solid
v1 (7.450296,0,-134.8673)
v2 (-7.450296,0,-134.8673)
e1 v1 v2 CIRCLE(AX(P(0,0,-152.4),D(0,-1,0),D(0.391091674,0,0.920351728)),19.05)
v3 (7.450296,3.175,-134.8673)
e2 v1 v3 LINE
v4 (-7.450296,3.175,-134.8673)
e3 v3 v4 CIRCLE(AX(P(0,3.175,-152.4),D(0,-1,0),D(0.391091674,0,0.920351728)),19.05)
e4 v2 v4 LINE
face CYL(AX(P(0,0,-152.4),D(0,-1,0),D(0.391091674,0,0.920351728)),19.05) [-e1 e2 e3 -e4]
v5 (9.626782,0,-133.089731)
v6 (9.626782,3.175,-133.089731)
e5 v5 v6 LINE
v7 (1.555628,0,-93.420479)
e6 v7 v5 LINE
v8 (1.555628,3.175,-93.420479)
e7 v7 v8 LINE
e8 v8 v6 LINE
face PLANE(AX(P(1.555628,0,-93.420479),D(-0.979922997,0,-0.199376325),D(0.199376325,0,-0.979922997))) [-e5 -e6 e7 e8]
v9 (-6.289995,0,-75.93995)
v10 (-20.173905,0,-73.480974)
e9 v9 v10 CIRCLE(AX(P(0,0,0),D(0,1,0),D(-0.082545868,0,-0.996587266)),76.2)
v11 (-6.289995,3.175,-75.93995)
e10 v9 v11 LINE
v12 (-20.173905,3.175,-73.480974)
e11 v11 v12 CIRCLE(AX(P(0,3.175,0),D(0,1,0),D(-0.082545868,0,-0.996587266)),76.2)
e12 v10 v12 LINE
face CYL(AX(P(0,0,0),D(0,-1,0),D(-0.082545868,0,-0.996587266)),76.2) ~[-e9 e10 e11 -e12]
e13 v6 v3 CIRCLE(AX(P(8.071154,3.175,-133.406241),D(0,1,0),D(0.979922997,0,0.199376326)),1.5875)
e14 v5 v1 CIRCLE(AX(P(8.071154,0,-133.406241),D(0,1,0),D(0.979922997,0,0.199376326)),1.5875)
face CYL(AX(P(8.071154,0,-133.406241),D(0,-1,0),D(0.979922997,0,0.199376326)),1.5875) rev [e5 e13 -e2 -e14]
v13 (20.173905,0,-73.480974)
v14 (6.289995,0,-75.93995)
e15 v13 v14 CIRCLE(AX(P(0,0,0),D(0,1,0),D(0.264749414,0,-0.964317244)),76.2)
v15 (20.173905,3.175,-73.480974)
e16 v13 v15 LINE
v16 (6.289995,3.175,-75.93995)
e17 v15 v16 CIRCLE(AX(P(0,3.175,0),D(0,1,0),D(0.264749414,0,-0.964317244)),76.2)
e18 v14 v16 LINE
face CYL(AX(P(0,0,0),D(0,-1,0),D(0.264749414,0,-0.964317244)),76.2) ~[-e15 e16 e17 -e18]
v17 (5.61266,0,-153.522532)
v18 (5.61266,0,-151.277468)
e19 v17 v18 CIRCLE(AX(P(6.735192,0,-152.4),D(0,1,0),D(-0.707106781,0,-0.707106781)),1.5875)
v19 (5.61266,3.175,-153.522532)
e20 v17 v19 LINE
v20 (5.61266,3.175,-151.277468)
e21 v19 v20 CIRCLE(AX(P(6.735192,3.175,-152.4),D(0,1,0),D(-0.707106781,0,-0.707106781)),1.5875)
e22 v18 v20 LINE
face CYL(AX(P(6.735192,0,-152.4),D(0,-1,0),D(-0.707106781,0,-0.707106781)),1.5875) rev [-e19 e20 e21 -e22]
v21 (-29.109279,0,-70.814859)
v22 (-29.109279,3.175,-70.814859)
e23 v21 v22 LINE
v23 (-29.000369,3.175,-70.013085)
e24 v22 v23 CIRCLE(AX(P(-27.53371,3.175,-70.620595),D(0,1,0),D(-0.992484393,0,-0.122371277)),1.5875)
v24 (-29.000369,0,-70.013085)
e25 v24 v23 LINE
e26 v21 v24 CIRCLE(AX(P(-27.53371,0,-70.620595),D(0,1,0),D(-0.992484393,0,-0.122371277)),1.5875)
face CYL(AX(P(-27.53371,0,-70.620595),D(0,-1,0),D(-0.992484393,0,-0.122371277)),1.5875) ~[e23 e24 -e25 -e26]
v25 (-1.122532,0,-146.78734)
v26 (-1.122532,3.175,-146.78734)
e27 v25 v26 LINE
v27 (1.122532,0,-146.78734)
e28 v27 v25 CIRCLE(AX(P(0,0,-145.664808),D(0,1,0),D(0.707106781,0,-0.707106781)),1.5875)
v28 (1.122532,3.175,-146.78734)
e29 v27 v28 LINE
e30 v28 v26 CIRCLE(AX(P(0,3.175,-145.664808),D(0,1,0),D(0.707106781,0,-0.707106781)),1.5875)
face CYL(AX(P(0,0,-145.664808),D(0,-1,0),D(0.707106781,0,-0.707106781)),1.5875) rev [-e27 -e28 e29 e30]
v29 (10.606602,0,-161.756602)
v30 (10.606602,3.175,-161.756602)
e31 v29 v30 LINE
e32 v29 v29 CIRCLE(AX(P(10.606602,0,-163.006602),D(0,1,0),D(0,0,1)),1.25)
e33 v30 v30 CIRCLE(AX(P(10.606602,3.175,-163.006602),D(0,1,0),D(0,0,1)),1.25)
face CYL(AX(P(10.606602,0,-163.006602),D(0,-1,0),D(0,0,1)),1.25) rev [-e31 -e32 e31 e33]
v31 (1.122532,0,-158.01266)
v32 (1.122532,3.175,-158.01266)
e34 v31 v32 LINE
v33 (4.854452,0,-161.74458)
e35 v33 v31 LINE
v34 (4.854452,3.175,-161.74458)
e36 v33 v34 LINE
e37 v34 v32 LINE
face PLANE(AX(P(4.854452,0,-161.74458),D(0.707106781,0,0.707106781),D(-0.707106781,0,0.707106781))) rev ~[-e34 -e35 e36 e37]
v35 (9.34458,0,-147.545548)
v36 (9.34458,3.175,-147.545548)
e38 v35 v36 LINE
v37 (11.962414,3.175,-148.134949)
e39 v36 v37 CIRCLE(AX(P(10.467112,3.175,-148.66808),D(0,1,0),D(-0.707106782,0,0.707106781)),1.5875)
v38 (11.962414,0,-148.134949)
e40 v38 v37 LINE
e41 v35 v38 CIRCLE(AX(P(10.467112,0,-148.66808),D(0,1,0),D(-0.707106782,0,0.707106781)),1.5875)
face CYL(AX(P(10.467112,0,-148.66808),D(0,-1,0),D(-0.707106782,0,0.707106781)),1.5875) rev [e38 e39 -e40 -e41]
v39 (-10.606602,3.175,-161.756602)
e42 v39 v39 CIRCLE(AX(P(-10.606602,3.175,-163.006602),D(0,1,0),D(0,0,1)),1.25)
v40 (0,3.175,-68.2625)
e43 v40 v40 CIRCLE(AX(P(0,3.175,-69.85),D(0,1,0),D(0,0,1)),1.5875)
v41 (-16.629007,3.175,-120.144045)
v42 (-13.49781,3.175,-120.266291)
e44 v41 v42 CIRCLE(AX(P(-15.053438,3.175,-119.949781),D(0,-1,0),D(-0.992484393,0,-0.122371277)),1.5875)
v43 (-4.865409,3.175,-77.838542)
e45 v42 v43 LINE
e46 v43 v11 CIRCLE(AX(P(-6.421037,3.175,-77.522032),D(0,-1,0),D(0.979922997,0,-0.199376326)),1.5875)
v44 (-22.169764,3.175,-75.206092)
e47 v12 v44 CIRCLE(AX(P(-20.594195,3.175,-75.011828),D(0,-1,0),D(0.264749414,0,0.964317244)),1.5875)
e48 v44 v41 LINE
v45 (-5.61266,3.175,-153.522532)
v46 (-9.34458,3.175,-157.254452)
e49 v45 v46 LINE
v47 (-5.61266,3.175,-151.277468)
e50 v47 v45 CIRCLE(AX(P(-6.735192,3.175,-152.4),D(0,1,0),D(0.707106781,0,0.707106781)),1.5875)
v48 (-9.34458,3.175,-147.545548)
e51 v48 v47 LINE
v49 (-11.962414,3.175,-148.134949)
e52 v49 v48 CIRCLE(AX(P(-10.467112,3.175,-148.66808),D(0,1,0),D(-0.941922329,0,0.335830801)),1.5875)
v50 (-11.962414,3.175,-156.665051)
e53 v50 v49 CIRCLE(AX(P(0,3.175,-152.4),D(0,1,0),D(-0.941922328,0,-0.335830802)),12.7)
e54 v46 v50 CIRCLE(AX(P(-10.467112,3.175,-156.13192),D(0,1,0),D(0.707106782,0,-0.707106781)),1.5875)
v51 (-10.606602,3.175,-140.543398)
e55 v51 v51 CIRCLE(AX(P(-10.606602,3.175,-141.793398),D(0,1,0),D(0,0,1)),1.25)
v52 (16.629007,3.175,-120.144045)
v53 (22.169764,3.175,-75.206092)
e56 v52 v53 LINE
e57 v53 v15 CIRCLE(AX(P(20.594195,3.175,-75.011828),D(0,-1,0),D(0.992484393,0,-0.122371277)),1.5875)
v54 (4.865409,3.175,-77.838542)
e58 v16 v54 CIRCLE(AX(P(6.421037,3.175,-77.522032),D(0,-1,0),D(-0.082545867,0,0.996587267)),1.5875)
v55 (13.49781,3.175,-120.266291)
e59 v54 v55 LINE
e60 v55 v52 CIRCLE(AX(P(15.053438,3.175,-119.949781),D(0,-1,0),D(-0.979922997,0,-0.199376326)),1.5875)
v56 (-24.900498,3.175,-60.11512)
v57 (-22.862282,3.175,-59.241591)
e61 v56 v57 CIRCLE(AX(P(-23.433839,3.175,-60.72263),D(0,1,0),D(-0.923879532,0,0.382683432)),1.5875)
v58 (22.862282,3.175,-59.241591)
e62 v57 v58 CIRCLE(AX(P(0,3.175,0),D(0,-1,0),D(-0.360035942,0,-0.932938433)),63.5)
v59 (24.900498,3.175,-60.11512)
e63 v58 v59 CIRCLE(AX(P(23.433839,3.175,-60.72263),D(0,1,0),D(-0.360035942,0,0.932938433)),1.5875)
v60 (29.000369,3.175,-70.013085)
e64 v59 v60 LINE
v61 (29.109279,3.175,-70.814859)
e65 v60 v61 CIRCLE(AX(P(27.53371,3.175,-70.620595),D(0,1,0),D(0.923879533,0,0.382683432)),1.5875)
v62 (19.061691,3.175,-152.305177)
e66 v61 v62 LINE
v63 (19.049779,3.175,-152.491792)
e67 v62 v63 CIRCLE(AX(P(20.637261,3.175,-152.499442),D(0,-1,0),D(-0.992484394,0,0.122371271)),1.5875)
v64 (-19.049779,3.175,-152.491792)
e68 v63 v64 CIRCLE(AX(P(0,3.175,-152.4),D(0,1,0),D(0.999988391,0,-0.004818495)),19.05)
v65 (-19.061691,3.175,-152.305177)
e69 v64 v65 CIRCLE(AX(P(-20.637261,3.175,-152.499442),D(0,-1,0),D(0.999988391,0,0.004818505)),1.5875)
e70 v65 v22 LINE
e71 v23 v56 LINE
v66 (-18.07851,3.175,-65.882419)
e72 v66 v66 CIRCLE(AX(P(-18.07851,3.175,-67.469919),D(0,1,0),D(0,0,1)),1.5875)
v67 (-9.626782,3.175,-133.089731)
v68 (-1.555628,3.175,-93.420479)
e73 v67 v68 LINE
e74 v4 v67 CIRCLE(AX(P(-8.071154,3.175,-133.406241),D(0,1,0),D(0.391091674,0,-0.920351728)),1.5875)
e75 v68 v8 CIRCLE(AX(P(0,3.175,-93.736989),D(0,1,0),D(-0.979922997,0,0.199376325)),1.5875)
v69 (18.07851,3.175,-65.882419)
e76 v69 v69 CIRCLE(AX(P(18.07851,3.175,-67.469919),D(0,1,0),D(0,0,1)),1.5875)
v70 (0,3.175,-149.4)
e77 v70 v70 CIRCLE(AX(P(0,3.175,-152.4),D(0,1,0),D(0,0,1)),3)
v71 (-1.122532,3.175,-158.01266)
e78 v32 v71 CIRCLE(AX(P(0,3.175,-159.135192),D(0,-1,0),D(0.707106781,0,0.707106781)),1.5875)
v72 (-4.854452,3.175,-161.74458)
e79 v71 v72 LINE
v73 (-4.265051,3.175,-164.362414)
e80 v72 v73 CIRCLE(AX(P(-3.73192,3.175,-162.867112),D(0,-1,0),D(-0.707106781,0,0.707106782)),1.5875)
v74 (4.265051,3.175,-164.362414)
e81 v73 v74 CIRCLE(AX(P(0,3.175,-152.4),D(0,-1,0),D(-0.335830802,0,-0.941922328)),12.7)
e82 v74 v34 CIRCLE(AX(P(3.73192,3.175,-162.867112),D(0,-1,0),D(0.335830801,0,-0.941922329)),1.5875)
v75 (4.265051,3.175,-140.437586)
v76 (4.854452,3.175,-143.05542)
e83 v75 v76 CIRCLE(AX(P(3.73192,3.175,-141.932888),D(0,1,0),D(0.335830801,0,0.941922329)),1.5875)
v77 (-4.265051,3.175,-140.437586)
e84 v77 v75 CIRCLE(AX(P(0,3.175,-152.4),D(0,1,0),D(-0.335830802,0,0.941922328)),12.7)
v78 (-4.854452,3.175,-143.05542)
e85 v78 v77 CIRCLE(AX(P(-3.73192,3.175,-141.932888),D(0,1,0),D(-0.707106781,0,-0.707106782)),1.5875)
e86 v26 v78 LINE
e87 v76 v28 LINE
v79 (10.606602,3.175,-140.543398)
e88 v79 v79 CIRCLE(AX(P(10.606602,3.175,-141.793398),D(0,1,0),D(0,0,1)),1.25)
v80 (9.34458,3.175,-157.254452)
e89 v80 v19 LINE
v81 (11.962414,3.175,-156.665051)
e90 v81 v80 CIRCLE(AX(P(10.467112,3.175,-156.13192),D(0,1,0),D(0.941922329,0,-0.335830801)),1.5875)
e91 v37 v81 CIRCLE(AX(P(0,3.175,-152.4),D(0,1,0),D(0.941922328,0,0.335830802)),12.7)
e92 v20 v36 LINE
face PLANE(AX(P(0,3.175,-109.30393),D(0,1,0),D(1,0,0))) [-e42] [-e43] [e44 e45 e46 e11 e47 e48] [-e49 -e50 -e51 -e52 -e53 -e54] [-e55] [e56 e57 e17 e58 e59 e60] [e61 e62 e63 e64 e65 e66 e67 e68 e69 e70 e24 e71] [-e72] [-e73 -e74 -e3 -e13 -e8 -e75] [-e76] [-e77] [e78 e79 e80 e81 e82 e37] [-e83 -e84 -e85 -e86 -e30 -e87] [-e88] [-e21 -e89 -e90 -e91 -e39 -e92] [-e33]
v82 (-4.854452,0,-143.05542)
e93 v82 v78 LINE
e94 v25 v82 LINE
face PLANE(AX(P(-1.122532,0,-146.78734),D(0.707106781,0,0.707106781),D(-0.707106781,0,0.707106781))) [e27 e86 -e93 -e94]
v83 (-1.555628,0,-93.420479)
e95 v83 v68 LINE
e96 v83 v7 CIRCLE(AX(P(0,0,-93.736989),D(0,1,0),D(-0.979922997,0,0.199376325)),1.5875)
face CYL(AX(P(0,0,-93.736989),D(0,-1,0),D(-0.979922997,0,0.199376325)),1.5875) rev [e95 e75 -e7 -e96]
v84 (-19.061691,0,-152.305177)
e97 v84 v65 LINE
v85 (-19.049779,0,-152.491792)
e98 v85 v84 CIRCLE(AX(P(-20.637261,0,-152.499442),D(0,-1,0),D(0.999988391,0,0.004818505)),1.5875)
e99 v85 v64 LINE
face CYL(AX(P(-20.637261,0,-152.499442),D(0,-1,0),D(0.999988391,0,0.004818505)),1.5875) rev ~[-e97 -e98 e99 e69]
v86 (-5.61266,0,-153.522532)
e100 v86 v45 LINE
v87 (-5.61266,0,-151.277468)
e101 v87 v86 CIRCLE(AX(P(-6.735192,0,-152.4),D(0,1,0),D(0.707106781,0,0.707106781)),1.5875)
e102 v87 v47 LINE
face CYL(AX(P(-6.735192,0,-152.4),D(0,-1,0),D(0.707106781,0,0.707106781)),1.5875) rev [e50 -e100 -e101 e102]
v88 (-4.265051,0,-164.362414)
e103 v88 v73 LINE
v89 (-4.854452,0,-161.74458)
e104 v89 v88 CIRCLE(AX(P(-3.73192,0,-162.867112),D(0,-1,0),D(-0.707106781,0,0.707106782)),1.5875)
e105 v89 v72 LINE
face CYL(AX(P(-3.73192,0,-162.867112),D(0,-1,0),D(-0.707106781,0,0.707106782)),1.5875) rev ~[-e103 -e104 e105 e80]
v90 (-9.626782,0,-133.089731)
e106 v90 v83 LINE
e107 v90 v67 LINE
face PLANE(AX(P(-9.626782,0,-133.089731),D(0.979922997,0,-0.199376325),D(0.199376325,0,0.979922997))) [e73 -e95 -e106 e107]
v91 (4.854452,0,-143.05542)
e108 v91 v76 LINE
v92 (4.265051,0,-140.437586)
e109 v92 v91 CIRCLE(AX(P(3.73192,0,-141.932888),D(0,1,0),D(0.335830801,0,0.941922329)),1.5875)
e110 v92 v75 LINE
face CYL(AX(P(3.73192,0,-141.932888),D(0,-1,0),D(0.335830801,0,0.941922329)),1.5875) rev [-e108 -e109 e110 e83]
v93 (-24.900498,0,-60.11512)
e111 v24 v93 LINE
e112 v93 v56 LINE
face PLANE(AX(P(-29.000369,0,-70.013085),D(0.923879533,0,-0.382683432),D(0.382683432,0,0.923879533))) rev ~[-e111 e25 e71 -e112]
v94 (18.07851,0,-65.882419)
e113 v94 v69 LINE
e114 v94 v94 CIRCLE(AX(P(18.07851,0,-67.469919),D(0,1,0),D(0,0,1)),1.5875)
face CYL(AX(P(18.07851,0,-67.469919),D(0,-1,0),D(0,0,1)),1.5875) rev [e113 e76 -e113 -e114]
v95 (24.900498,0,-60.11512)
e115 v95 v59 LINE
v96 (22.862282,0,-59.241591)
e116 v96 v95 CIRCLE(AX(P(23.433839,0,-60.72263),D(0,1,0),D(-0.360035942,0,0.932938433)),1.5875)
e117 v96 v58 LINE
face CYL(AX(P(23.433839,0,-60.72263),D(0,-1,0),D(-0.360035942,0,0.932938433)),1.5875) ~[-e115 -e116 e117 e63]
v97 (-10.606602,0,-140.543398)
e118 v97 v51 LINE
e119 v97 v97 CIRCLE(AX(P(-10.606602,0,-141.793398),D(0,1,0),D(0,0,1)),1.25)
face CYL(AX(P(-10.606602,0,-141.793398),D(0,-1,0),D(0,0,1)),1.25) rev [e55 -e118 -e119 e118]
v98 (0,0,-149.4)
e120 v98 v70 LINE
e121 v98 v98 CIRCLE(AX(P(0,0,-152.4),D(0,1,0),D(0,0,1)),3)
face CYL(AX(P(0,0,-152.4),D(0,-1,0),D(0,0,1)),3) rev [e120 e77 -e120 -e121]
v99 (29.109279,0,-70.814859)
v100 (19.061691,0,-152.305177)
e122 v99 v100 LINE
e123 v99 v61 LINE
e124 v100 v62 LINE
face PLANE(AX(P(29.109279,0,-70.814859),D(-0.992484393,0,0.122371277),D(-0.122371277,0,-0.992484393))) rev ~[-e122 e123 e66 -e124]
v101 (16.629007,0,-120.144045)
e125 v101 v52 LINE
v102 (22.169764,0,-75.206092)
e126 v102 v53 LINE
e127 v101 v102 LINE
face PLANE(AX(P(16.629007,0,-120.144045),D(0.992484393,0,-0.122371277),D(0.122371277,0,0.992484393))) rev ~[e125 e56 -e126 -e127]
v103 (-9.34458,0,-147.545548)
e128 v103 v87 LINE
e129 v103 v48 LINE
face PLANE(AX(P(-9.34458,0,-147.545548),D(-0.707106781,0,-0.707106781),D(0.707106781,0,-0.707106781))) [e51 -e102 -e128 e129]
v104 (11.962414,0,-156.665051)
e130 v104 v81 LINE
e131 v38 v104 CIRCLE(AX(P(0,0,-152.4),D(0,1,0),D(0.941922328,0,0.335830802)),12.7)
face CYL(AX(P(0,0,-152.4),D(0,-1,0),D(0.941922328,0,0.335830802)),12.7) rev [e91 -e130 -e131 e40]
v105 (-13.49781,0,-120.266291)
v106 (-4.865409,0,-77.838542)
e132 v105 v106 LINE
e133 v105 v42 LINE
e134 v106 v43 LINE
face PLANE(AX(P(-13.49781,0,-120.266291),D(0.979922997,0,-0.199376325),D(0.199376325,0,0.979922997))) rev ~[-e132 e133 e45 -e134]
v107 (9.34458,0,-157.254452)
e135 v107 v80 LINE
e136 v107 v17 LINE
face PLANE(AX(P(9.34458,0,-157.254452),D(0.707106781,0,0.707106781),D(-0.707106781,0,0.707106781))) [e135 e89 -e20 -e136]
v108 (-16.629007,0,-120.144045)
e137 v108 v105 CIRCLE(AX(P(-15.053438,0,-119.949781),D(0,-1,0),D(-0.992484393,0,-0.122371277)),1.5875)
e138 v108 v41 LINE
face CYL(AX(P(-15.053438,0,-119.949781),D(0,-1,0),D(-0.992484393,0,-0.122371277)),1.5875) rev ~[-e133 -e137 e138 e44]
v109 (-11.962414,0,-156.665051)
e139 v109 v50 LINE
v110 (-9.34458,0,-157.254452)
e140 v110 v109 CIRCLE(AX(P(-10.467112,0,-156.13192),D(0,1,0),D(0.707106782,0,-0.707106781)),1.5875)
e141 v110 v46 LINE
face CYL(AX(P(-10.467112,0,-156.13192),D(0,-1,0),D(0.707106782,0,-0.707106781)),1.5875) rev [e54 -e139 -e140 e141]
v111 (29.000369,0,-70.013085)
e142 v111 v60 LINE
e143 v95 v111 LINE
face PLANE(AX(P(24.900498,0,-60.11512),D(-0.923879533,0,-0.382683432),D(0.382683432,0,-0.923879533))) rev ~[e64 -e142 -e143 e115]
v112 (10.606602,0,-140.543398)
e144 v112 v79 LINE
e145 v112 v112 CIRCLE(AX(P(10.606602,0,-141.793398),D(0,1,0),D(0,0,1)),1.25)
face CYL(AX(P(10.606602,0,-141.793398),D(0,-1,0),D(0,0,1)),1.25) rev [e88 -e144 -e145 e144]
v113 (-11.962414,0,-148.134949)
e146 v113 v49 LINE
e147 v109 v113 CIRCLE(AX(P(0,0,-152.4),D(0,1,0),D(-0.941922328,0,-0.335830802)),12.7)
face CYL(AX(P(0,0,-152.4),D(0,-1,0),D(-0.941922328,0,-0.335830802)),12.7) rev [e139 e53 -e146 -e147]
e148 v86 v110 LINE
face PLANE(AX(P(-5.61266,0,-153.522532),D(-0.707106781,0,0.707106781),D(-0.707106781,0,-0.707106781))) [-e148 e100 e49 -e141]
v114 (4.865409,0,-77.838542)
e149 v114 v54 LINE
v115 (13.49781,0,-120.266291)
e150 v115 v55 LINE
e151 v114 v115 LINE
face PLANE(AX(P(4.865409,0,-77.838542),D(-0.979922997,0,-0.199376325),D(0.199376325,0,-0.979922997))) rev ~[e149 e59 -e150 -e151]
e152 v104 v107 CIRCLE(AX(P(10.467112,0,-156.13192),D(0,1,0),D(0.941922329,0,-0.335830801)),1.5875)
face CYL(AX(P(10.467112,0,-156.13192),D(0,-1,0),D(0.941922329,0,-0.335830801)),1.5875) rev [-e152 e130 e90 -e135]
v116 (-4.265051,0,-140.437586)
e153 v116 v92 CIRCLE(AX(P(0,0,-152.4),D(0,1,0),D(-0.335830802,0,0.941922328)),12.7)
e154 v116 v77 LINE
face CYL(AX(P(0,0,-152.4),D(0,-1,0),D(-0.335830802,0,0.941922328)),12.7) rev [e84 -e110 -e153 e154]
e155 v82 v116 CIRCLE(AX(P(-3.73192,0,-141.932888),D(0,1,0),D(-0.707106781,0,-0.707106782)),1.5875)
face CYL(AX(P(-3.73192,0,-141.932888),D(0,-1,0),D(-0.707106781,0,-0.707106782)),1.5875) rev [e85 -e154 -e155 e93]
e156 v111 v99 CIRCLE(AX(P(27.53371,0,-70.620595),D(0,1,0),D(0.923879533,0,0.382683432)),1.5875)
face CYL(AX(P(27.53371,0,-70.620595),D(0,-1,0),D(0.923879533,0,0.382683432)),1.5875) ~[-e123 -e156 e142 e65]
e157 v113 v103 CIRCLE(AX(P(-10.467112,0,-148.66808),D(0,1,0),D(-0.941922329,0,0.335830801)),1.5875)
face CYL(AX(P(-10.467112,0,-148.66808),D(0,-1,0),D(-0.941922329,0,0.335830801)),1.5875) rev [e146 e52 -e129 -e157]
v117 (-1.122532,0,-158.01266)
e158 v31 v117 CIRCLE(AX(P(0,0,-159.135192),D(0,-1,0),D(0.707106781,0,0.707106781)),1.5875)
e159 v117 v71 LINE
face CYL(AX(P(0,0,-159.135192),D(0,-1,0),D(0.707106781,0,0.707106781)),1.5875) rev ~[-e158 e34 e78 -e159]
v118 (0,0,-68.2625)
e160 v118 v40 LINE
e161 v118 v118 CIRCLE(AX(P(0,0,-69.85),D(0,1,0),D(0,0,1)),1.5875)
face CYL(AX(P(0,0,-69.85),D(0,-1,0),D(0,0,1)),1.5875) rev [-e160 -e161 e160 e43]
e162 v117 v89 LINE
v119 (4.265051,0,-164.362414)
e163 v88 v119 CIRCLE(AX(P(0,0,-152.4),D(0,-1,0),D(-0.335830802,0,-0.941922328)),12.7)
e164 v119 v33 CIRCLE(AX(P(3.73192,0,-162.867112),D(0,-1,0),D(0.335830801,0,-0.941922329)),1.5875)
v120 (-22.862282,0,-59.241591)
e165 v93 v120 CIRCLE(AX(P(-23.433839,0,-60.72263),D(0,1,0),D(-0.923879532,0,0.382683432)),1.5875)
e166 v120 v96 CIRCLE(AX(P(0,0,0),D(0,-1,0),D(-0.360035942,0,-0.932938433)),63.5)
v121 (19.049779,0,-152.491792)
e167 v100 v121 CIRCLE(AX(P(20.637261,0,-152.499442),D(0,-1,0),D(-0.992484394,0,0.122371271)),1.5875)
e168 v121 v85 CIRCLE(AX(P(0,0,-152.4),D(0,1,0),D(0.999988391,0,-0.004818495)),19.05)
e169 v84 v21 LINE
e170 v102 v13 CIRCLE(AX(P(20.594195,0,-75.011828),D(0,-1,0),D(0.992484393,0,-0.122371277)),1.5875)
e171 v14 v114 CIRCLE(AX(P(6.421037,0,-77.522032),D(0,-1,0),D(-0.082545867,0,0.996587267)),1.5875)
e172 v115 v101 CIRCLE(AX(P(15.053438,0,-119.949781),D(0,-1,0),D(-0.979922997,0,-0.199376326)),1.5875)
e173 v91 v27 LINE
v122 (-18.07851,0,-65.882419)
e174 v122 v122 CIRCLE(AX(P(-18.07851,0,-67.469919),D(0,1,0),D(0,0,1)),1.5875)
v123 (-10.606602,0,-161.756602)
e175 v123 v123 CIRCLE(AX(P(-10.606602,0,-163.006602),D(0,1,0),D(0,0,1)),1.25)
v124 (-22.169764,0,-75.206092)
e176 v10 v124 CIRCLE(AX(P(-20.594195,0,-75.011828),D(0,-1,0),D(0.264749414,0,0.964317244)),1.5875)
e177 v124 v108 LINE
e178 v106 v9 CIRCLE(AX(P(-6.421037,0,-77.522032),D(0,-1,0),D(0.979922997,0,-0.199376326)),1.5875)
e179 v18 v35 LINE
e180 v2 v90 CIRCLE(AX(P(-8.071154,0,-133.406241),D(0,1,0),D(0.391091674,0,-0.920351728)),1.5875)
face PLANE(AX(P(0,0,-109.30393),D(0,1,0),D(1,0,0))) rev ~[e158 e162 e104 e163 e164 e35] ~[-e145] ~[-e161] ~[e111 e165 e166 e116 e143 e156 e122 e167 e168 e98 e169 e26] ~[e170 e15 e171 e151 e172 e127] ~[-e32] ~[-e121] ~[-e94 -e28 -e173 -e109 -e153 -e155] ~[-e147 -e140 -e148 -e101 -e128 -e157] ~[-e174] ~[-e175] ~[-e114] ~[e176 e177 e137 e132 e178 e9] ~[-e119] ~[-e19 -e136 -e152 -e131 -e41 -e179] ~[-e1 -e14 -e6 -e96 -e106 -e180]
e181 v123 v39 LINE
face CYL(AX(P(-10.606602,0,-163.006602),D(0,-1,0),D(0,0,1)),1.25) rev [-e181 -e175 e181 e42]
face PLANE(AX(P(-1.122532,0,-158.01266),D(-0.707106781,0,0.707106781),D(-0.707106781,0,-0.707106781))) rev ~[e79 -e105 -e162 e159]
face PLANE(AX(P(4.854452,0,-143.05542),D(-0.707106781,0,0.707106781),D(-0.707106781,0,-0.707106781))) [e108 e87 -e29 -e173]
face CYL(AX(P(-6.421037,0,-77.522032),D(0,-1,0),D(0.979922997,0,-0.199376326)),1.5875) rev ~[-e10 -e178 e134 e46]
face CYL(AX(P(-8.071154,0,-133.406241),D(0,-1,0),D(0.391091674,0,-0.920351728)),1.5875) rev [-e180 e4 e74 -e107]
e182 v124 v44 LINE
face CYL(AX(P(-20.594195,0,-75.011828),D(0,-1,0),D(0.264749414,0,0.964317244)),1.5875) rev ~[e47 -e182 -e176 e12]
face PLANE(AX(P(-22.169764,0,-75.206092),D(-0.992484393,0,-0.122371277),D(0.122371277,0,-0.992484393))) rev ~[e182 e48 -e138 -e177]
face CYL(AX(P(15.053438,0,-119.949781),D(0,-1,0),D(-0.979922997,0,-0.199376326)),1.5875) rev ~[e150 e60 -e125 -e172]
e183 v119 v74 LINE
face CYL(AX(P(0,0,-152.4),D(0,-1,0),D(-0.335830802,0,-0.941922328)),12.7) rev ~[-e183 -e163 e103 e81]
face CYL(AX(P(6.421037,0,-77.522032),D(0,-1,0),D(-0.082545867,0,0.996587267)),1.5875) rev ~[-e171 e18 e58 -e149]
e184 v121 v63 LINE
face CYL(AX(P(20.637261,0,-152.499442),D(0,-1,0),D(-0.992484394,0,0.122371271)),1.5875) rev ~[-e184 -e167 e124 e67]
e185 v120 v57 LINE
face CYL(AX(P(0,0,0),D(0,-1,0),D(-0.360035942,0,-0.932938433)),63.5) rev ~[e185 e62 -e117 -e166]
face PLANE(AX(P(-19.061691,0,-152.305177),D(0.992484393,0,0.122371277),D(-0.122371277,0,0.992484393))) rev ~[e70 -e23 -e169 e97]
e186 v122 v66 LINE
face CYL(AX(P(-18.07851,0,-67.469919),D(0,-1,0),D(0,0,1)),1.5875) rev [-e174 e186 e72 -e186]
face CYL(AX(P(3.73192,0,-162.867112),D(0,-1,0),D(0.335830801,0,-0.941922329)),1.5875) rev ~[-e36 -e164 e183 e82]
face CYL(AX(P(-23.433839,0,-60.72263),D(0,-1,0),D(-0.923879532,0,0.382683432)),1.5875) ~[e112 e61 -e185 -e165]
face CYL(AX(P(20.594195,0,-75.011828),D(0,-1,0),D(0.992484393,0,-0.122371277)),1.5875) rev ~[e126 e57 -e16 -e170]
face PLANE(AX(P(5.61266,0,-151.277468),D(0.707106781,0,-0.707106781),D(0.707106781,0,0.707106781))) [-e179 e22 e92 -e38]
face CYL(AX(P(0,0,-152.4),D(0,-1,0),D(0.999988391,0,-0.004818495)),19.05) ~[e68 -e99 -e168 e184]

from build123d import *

# Parameters (mm, degrees)
SKETCH1_R           = 1.25
SKETCH1_R_2         = 1.5875
SKETCH1_R_3         = 1.587499999
SKETCH1_R_4         = 3
BOSS_EXTRUDE1_DEPTH = 3.175


with BuildPart() as part:
    # Sketch1 → Boss-Extrude1 (new body)
    with BuildSketch(Plane(origin=(0, 0, 0), x_dir=(1, 0, 0), z_dir=(0, 1, 0))):
        with BuildLine():
            Line((-19.061691445, 152.305177286), (-29.109279467, 70.814859111))
            ThreePointArc((-29.109279467, 70.814859111), (-29.106764186, 70.406916612), (-29.000369251, 70.01308476))
            Line((-29.000369251, 70.01308476), (-24.900498144, 60.115120329))
            ThreePointArc((-24.900498144, 60.115120329), (-24.059191565, 59.263489811), (-22.862282328, 59.241590515))
            ThreePointArc((-22.862282328, 59.241590515), (0, 63.5), (22.862282328, 59.241590515))
            ThreePointArc((22.862282328, 59.241590515), (24.059191565, 59.263489811), (24.900498144, 60.115120329))
            Line((24.900498144, 60.115120329), (29.000369251, 70.01308476))
            ThreePointArc((29.000369251, 70.01308476), (29.106764186, 70.406916612), (29.109279467, 70.814859111))
            Line((29.109279467, 70.814859111), (19.061691445, 152.305177286))
            ThreePointArc((19.061691445, 152.305177286), (19.052985039, 152.398309253), (19.049778848, 152.491792328))
            ThreePointArc((19.049778848, 152.491792328), (0, 171.45), (-19.049778848, 152.491792328))
            ThreePointArc((-19.049778848, 152.491792328), (-19.052985039, 152.398309253), (-19.061691445, 152.305177286))
        make_face()
        with Locations(Location((-10.606601718, 163.006601718, 0), (0, 0, 270))):
            Circle(SKETCH1_R, mode=Mode.SUBTRACT)
        with Locations(Location((0, 69.85, 0), (0, 0, 270))):
            Circle(SKETCH1_R_2, mode=Mode.SUBTRACT)
        with Locations(Location((18.0785103, 67.469918962, 0), (0, 0, 270))):
            Circle(SKETCH1_R_2, mode=Mode.SUBTRACT)
        with Locations(Location((10.606601718, 163.006601718, 0), (0, 0, 270))):
            Circle(SKETCH1_R, mode=Mode.SUBTRACT)
        with Locations(Location((10.606601718, 141.793398282, 0), (0, 0, 270))):
            Circle(SKETCH1_R, mode=Mode.SUBTRACT)
        with Locations(Location((-10.606601718, 141.793398282, 0), (0, 0, 270))):
            Circle(SKETCH1_R, mode=Mode.SUBTRACT)
        with Locations(Location((-18.078510302, 67.469918971, 0), (0, 0, 270))):
            Circle(SKETCH1_R_3, mode=Mode.SUBTRACT)
        with Locations(Location((0, 152.4, 0), (0, 0, 270))):
            Circle(SKETCH1_R_4, mode=Mode.SUBTRACT)
        with BuildLine():
            Line((-13.497810395, 120.266290898), (-4.865408959, 77.838541906))
            ThreePointArc((-4.865408959, 77.838541906), (-5.15124286, 76.569257194), (-6.289995152, 75.939949704))
            ThreePointArc((-6.289995152, 75.939949704), (-13.288948331, 75.032285399), (-20.173905346, 73.480974021))
            ThreePointArc((-20.173905346, 73.480974021), (-21.632306598, 73.810794489), (-22.169764015, 75.206092049))
            Line((-22.169764015, 75.206092049), (-16.629007128, 120.144045384))
            ThreePointArc((-16.629007128, 120.144045384), (-15.115368796, 121.53607252), (-13.497810395, 120.266290898))
        make_face(mode=Mode.SUBTRACT)
        with BuildLine():
            Line((-9.626782179, 133.089731304), (-1.555627758, 93.42047862))
            ThreePointArc((-1.555627758, 93.42047862), (0, 92.149488537), (1.555627758, 93.42047862))
            Line((1.555627758, 93.42047862), (9.626782179, 133.089731304))
            ThreePointArc((9.626782179, 133.089731304), (9.075338598, 134.635781943), (7.450296388, 134.867299588))
            ThreePointArc((7.450296388, 134.867299588), (0, 133.35), (-7.450296388, 134.867299588))
            ThreePointArc((-7.450296388, 134.867299588), (-9.075338598, 134.635781943), (-9.626782179, 133.089731304))
        make_face(mode=Mode.SUBTRACT)
        with BuildLine():
            Line((4.854451798, 161.744579859), (1.122532015, 158.012660076))
            ThreePointArc((1.122532015, 158.012660076), (0, 157.547692091), (-1.122532015, 158.012660076))
            Line((-1.122532015, 158.012660076), (-4.854451798, 161.744579859))
            ThreePointArc((-4.854451798, 161.744579859), (-5.280651093, 163.215805982), (-4.265051181, 164.36241357))
            ThreePointArc((-4.265051181, 164.36241357), (0, 165.1), (4.265051181, 164.36241357))
            ThreePointArc((4.265051181, 164.36241357), (5.280651093, 163.215805982), (4.854451798, 161.744579859))
        make_face(mode=Mode.SUBTRACT)
        with BuildLine():
            Line((-1.122532015, 146.787339924), (-4.854451798, 143.055420141))
            ThreePointArc((-4.854451798, 143.055420141), (-5.280651093, 141.584194018), (-4.265051181, 140.43758643))
            ThreePointArc((-4.265051181, 140.43758643), (0, 139.7), (4.265051181, 140.43758643))
            ThreePointArc((4.265051181, 140.43758643), (5.280651093, 141.584194018), (4.854451798, 143.055420141))
            Line((4.854451798, 143.055420141), (1.122532015, 146.787339924))
            ThreePointArc((1.122532015, 146.787339924), (0, 147.252307909), (-1.122532015, 146.787339924))
        make_face(mode=Mode.SUBTRACT)
        with BuildLine():
            Line((9.344579859, 157.254451798), (5.612660076, 153.522532015))
            ThreePointArc((5.612660076, 153.522532015), (5.147692091, 152.4), (5.612660076, 151.277467985))
            Line((5.612660076, 151.277467985), (9.344579859, 147.545548202))
            ThreePointArc((9.344579859, 147.545548202), (10.815805982, 147.119348907), (11.96241357, 148.134948819))
            ThreePointArc((11.96241357, 148.134948819), (12.7, 152.4), (11.96241357, 156.665051181))
            ThreePointArc((11.96241357, 156.665051181), (10.815805982, 157.680651093), (9.344579859, 157.254451798))
        make_face(mode=Mode.SUBTRACT)
        with BuildLine():
            Line((4.865408959, 77.838541906), (13.497810395, 120.266290898))
            ThreePointArc((13.497810395, 120.266290898), (15.115368796, 121.53607252), (16.629007128, 120.144045384))
            Line((16.629007128, 120.144045384), (22.169764015, 75.206092049))
            ThreePointArc((22.169764015, 75.206092049), (21.632306598, 73.810794489), (20.173905346, 73.480974021))
            ThreePointArc((20.173905346, 73.480974021), (13.288948331, 75.032285399), (6.289995152, 75.939949704))
            ThreePointArc((6.289995152, 75.939949704), (5.15124286, 76.569257194), (4.865408959, 77.838541906))
        make_face(mode=Mode.SUBTRACT)
        with BuildLine():
            Line((-5.612660076, 153.522532015), (-9.344579859, 157.254451798))
            ThreePointArc((-9.344579859, 157.254451798), (-10.815805982, 157.680651093), (-11.96241357, 156.665051181))
            ThreePointArc((-11.96241357, 156.665051181), (-12.7, 152.4), (-11.96241357, 148.134948819))
            ThreePointArc((-11.96241357, 148.134948819), (-10.815805982, 147.119348907), (-9.344579859, 147.545548202))
            Line((-9.344579859, 147.545548202), (-5.612660076, 151.277467985))
            ThreePointArc((-5.612660076, 151.277467985), (-5.147692091, 152.4), (-5.612660076, 153.522532015))
        make_face(mode=Mode.SUBTRACT)
    extrude(amount=BOSS_EXTRUDE1_DEPTH)


solid = part.part
